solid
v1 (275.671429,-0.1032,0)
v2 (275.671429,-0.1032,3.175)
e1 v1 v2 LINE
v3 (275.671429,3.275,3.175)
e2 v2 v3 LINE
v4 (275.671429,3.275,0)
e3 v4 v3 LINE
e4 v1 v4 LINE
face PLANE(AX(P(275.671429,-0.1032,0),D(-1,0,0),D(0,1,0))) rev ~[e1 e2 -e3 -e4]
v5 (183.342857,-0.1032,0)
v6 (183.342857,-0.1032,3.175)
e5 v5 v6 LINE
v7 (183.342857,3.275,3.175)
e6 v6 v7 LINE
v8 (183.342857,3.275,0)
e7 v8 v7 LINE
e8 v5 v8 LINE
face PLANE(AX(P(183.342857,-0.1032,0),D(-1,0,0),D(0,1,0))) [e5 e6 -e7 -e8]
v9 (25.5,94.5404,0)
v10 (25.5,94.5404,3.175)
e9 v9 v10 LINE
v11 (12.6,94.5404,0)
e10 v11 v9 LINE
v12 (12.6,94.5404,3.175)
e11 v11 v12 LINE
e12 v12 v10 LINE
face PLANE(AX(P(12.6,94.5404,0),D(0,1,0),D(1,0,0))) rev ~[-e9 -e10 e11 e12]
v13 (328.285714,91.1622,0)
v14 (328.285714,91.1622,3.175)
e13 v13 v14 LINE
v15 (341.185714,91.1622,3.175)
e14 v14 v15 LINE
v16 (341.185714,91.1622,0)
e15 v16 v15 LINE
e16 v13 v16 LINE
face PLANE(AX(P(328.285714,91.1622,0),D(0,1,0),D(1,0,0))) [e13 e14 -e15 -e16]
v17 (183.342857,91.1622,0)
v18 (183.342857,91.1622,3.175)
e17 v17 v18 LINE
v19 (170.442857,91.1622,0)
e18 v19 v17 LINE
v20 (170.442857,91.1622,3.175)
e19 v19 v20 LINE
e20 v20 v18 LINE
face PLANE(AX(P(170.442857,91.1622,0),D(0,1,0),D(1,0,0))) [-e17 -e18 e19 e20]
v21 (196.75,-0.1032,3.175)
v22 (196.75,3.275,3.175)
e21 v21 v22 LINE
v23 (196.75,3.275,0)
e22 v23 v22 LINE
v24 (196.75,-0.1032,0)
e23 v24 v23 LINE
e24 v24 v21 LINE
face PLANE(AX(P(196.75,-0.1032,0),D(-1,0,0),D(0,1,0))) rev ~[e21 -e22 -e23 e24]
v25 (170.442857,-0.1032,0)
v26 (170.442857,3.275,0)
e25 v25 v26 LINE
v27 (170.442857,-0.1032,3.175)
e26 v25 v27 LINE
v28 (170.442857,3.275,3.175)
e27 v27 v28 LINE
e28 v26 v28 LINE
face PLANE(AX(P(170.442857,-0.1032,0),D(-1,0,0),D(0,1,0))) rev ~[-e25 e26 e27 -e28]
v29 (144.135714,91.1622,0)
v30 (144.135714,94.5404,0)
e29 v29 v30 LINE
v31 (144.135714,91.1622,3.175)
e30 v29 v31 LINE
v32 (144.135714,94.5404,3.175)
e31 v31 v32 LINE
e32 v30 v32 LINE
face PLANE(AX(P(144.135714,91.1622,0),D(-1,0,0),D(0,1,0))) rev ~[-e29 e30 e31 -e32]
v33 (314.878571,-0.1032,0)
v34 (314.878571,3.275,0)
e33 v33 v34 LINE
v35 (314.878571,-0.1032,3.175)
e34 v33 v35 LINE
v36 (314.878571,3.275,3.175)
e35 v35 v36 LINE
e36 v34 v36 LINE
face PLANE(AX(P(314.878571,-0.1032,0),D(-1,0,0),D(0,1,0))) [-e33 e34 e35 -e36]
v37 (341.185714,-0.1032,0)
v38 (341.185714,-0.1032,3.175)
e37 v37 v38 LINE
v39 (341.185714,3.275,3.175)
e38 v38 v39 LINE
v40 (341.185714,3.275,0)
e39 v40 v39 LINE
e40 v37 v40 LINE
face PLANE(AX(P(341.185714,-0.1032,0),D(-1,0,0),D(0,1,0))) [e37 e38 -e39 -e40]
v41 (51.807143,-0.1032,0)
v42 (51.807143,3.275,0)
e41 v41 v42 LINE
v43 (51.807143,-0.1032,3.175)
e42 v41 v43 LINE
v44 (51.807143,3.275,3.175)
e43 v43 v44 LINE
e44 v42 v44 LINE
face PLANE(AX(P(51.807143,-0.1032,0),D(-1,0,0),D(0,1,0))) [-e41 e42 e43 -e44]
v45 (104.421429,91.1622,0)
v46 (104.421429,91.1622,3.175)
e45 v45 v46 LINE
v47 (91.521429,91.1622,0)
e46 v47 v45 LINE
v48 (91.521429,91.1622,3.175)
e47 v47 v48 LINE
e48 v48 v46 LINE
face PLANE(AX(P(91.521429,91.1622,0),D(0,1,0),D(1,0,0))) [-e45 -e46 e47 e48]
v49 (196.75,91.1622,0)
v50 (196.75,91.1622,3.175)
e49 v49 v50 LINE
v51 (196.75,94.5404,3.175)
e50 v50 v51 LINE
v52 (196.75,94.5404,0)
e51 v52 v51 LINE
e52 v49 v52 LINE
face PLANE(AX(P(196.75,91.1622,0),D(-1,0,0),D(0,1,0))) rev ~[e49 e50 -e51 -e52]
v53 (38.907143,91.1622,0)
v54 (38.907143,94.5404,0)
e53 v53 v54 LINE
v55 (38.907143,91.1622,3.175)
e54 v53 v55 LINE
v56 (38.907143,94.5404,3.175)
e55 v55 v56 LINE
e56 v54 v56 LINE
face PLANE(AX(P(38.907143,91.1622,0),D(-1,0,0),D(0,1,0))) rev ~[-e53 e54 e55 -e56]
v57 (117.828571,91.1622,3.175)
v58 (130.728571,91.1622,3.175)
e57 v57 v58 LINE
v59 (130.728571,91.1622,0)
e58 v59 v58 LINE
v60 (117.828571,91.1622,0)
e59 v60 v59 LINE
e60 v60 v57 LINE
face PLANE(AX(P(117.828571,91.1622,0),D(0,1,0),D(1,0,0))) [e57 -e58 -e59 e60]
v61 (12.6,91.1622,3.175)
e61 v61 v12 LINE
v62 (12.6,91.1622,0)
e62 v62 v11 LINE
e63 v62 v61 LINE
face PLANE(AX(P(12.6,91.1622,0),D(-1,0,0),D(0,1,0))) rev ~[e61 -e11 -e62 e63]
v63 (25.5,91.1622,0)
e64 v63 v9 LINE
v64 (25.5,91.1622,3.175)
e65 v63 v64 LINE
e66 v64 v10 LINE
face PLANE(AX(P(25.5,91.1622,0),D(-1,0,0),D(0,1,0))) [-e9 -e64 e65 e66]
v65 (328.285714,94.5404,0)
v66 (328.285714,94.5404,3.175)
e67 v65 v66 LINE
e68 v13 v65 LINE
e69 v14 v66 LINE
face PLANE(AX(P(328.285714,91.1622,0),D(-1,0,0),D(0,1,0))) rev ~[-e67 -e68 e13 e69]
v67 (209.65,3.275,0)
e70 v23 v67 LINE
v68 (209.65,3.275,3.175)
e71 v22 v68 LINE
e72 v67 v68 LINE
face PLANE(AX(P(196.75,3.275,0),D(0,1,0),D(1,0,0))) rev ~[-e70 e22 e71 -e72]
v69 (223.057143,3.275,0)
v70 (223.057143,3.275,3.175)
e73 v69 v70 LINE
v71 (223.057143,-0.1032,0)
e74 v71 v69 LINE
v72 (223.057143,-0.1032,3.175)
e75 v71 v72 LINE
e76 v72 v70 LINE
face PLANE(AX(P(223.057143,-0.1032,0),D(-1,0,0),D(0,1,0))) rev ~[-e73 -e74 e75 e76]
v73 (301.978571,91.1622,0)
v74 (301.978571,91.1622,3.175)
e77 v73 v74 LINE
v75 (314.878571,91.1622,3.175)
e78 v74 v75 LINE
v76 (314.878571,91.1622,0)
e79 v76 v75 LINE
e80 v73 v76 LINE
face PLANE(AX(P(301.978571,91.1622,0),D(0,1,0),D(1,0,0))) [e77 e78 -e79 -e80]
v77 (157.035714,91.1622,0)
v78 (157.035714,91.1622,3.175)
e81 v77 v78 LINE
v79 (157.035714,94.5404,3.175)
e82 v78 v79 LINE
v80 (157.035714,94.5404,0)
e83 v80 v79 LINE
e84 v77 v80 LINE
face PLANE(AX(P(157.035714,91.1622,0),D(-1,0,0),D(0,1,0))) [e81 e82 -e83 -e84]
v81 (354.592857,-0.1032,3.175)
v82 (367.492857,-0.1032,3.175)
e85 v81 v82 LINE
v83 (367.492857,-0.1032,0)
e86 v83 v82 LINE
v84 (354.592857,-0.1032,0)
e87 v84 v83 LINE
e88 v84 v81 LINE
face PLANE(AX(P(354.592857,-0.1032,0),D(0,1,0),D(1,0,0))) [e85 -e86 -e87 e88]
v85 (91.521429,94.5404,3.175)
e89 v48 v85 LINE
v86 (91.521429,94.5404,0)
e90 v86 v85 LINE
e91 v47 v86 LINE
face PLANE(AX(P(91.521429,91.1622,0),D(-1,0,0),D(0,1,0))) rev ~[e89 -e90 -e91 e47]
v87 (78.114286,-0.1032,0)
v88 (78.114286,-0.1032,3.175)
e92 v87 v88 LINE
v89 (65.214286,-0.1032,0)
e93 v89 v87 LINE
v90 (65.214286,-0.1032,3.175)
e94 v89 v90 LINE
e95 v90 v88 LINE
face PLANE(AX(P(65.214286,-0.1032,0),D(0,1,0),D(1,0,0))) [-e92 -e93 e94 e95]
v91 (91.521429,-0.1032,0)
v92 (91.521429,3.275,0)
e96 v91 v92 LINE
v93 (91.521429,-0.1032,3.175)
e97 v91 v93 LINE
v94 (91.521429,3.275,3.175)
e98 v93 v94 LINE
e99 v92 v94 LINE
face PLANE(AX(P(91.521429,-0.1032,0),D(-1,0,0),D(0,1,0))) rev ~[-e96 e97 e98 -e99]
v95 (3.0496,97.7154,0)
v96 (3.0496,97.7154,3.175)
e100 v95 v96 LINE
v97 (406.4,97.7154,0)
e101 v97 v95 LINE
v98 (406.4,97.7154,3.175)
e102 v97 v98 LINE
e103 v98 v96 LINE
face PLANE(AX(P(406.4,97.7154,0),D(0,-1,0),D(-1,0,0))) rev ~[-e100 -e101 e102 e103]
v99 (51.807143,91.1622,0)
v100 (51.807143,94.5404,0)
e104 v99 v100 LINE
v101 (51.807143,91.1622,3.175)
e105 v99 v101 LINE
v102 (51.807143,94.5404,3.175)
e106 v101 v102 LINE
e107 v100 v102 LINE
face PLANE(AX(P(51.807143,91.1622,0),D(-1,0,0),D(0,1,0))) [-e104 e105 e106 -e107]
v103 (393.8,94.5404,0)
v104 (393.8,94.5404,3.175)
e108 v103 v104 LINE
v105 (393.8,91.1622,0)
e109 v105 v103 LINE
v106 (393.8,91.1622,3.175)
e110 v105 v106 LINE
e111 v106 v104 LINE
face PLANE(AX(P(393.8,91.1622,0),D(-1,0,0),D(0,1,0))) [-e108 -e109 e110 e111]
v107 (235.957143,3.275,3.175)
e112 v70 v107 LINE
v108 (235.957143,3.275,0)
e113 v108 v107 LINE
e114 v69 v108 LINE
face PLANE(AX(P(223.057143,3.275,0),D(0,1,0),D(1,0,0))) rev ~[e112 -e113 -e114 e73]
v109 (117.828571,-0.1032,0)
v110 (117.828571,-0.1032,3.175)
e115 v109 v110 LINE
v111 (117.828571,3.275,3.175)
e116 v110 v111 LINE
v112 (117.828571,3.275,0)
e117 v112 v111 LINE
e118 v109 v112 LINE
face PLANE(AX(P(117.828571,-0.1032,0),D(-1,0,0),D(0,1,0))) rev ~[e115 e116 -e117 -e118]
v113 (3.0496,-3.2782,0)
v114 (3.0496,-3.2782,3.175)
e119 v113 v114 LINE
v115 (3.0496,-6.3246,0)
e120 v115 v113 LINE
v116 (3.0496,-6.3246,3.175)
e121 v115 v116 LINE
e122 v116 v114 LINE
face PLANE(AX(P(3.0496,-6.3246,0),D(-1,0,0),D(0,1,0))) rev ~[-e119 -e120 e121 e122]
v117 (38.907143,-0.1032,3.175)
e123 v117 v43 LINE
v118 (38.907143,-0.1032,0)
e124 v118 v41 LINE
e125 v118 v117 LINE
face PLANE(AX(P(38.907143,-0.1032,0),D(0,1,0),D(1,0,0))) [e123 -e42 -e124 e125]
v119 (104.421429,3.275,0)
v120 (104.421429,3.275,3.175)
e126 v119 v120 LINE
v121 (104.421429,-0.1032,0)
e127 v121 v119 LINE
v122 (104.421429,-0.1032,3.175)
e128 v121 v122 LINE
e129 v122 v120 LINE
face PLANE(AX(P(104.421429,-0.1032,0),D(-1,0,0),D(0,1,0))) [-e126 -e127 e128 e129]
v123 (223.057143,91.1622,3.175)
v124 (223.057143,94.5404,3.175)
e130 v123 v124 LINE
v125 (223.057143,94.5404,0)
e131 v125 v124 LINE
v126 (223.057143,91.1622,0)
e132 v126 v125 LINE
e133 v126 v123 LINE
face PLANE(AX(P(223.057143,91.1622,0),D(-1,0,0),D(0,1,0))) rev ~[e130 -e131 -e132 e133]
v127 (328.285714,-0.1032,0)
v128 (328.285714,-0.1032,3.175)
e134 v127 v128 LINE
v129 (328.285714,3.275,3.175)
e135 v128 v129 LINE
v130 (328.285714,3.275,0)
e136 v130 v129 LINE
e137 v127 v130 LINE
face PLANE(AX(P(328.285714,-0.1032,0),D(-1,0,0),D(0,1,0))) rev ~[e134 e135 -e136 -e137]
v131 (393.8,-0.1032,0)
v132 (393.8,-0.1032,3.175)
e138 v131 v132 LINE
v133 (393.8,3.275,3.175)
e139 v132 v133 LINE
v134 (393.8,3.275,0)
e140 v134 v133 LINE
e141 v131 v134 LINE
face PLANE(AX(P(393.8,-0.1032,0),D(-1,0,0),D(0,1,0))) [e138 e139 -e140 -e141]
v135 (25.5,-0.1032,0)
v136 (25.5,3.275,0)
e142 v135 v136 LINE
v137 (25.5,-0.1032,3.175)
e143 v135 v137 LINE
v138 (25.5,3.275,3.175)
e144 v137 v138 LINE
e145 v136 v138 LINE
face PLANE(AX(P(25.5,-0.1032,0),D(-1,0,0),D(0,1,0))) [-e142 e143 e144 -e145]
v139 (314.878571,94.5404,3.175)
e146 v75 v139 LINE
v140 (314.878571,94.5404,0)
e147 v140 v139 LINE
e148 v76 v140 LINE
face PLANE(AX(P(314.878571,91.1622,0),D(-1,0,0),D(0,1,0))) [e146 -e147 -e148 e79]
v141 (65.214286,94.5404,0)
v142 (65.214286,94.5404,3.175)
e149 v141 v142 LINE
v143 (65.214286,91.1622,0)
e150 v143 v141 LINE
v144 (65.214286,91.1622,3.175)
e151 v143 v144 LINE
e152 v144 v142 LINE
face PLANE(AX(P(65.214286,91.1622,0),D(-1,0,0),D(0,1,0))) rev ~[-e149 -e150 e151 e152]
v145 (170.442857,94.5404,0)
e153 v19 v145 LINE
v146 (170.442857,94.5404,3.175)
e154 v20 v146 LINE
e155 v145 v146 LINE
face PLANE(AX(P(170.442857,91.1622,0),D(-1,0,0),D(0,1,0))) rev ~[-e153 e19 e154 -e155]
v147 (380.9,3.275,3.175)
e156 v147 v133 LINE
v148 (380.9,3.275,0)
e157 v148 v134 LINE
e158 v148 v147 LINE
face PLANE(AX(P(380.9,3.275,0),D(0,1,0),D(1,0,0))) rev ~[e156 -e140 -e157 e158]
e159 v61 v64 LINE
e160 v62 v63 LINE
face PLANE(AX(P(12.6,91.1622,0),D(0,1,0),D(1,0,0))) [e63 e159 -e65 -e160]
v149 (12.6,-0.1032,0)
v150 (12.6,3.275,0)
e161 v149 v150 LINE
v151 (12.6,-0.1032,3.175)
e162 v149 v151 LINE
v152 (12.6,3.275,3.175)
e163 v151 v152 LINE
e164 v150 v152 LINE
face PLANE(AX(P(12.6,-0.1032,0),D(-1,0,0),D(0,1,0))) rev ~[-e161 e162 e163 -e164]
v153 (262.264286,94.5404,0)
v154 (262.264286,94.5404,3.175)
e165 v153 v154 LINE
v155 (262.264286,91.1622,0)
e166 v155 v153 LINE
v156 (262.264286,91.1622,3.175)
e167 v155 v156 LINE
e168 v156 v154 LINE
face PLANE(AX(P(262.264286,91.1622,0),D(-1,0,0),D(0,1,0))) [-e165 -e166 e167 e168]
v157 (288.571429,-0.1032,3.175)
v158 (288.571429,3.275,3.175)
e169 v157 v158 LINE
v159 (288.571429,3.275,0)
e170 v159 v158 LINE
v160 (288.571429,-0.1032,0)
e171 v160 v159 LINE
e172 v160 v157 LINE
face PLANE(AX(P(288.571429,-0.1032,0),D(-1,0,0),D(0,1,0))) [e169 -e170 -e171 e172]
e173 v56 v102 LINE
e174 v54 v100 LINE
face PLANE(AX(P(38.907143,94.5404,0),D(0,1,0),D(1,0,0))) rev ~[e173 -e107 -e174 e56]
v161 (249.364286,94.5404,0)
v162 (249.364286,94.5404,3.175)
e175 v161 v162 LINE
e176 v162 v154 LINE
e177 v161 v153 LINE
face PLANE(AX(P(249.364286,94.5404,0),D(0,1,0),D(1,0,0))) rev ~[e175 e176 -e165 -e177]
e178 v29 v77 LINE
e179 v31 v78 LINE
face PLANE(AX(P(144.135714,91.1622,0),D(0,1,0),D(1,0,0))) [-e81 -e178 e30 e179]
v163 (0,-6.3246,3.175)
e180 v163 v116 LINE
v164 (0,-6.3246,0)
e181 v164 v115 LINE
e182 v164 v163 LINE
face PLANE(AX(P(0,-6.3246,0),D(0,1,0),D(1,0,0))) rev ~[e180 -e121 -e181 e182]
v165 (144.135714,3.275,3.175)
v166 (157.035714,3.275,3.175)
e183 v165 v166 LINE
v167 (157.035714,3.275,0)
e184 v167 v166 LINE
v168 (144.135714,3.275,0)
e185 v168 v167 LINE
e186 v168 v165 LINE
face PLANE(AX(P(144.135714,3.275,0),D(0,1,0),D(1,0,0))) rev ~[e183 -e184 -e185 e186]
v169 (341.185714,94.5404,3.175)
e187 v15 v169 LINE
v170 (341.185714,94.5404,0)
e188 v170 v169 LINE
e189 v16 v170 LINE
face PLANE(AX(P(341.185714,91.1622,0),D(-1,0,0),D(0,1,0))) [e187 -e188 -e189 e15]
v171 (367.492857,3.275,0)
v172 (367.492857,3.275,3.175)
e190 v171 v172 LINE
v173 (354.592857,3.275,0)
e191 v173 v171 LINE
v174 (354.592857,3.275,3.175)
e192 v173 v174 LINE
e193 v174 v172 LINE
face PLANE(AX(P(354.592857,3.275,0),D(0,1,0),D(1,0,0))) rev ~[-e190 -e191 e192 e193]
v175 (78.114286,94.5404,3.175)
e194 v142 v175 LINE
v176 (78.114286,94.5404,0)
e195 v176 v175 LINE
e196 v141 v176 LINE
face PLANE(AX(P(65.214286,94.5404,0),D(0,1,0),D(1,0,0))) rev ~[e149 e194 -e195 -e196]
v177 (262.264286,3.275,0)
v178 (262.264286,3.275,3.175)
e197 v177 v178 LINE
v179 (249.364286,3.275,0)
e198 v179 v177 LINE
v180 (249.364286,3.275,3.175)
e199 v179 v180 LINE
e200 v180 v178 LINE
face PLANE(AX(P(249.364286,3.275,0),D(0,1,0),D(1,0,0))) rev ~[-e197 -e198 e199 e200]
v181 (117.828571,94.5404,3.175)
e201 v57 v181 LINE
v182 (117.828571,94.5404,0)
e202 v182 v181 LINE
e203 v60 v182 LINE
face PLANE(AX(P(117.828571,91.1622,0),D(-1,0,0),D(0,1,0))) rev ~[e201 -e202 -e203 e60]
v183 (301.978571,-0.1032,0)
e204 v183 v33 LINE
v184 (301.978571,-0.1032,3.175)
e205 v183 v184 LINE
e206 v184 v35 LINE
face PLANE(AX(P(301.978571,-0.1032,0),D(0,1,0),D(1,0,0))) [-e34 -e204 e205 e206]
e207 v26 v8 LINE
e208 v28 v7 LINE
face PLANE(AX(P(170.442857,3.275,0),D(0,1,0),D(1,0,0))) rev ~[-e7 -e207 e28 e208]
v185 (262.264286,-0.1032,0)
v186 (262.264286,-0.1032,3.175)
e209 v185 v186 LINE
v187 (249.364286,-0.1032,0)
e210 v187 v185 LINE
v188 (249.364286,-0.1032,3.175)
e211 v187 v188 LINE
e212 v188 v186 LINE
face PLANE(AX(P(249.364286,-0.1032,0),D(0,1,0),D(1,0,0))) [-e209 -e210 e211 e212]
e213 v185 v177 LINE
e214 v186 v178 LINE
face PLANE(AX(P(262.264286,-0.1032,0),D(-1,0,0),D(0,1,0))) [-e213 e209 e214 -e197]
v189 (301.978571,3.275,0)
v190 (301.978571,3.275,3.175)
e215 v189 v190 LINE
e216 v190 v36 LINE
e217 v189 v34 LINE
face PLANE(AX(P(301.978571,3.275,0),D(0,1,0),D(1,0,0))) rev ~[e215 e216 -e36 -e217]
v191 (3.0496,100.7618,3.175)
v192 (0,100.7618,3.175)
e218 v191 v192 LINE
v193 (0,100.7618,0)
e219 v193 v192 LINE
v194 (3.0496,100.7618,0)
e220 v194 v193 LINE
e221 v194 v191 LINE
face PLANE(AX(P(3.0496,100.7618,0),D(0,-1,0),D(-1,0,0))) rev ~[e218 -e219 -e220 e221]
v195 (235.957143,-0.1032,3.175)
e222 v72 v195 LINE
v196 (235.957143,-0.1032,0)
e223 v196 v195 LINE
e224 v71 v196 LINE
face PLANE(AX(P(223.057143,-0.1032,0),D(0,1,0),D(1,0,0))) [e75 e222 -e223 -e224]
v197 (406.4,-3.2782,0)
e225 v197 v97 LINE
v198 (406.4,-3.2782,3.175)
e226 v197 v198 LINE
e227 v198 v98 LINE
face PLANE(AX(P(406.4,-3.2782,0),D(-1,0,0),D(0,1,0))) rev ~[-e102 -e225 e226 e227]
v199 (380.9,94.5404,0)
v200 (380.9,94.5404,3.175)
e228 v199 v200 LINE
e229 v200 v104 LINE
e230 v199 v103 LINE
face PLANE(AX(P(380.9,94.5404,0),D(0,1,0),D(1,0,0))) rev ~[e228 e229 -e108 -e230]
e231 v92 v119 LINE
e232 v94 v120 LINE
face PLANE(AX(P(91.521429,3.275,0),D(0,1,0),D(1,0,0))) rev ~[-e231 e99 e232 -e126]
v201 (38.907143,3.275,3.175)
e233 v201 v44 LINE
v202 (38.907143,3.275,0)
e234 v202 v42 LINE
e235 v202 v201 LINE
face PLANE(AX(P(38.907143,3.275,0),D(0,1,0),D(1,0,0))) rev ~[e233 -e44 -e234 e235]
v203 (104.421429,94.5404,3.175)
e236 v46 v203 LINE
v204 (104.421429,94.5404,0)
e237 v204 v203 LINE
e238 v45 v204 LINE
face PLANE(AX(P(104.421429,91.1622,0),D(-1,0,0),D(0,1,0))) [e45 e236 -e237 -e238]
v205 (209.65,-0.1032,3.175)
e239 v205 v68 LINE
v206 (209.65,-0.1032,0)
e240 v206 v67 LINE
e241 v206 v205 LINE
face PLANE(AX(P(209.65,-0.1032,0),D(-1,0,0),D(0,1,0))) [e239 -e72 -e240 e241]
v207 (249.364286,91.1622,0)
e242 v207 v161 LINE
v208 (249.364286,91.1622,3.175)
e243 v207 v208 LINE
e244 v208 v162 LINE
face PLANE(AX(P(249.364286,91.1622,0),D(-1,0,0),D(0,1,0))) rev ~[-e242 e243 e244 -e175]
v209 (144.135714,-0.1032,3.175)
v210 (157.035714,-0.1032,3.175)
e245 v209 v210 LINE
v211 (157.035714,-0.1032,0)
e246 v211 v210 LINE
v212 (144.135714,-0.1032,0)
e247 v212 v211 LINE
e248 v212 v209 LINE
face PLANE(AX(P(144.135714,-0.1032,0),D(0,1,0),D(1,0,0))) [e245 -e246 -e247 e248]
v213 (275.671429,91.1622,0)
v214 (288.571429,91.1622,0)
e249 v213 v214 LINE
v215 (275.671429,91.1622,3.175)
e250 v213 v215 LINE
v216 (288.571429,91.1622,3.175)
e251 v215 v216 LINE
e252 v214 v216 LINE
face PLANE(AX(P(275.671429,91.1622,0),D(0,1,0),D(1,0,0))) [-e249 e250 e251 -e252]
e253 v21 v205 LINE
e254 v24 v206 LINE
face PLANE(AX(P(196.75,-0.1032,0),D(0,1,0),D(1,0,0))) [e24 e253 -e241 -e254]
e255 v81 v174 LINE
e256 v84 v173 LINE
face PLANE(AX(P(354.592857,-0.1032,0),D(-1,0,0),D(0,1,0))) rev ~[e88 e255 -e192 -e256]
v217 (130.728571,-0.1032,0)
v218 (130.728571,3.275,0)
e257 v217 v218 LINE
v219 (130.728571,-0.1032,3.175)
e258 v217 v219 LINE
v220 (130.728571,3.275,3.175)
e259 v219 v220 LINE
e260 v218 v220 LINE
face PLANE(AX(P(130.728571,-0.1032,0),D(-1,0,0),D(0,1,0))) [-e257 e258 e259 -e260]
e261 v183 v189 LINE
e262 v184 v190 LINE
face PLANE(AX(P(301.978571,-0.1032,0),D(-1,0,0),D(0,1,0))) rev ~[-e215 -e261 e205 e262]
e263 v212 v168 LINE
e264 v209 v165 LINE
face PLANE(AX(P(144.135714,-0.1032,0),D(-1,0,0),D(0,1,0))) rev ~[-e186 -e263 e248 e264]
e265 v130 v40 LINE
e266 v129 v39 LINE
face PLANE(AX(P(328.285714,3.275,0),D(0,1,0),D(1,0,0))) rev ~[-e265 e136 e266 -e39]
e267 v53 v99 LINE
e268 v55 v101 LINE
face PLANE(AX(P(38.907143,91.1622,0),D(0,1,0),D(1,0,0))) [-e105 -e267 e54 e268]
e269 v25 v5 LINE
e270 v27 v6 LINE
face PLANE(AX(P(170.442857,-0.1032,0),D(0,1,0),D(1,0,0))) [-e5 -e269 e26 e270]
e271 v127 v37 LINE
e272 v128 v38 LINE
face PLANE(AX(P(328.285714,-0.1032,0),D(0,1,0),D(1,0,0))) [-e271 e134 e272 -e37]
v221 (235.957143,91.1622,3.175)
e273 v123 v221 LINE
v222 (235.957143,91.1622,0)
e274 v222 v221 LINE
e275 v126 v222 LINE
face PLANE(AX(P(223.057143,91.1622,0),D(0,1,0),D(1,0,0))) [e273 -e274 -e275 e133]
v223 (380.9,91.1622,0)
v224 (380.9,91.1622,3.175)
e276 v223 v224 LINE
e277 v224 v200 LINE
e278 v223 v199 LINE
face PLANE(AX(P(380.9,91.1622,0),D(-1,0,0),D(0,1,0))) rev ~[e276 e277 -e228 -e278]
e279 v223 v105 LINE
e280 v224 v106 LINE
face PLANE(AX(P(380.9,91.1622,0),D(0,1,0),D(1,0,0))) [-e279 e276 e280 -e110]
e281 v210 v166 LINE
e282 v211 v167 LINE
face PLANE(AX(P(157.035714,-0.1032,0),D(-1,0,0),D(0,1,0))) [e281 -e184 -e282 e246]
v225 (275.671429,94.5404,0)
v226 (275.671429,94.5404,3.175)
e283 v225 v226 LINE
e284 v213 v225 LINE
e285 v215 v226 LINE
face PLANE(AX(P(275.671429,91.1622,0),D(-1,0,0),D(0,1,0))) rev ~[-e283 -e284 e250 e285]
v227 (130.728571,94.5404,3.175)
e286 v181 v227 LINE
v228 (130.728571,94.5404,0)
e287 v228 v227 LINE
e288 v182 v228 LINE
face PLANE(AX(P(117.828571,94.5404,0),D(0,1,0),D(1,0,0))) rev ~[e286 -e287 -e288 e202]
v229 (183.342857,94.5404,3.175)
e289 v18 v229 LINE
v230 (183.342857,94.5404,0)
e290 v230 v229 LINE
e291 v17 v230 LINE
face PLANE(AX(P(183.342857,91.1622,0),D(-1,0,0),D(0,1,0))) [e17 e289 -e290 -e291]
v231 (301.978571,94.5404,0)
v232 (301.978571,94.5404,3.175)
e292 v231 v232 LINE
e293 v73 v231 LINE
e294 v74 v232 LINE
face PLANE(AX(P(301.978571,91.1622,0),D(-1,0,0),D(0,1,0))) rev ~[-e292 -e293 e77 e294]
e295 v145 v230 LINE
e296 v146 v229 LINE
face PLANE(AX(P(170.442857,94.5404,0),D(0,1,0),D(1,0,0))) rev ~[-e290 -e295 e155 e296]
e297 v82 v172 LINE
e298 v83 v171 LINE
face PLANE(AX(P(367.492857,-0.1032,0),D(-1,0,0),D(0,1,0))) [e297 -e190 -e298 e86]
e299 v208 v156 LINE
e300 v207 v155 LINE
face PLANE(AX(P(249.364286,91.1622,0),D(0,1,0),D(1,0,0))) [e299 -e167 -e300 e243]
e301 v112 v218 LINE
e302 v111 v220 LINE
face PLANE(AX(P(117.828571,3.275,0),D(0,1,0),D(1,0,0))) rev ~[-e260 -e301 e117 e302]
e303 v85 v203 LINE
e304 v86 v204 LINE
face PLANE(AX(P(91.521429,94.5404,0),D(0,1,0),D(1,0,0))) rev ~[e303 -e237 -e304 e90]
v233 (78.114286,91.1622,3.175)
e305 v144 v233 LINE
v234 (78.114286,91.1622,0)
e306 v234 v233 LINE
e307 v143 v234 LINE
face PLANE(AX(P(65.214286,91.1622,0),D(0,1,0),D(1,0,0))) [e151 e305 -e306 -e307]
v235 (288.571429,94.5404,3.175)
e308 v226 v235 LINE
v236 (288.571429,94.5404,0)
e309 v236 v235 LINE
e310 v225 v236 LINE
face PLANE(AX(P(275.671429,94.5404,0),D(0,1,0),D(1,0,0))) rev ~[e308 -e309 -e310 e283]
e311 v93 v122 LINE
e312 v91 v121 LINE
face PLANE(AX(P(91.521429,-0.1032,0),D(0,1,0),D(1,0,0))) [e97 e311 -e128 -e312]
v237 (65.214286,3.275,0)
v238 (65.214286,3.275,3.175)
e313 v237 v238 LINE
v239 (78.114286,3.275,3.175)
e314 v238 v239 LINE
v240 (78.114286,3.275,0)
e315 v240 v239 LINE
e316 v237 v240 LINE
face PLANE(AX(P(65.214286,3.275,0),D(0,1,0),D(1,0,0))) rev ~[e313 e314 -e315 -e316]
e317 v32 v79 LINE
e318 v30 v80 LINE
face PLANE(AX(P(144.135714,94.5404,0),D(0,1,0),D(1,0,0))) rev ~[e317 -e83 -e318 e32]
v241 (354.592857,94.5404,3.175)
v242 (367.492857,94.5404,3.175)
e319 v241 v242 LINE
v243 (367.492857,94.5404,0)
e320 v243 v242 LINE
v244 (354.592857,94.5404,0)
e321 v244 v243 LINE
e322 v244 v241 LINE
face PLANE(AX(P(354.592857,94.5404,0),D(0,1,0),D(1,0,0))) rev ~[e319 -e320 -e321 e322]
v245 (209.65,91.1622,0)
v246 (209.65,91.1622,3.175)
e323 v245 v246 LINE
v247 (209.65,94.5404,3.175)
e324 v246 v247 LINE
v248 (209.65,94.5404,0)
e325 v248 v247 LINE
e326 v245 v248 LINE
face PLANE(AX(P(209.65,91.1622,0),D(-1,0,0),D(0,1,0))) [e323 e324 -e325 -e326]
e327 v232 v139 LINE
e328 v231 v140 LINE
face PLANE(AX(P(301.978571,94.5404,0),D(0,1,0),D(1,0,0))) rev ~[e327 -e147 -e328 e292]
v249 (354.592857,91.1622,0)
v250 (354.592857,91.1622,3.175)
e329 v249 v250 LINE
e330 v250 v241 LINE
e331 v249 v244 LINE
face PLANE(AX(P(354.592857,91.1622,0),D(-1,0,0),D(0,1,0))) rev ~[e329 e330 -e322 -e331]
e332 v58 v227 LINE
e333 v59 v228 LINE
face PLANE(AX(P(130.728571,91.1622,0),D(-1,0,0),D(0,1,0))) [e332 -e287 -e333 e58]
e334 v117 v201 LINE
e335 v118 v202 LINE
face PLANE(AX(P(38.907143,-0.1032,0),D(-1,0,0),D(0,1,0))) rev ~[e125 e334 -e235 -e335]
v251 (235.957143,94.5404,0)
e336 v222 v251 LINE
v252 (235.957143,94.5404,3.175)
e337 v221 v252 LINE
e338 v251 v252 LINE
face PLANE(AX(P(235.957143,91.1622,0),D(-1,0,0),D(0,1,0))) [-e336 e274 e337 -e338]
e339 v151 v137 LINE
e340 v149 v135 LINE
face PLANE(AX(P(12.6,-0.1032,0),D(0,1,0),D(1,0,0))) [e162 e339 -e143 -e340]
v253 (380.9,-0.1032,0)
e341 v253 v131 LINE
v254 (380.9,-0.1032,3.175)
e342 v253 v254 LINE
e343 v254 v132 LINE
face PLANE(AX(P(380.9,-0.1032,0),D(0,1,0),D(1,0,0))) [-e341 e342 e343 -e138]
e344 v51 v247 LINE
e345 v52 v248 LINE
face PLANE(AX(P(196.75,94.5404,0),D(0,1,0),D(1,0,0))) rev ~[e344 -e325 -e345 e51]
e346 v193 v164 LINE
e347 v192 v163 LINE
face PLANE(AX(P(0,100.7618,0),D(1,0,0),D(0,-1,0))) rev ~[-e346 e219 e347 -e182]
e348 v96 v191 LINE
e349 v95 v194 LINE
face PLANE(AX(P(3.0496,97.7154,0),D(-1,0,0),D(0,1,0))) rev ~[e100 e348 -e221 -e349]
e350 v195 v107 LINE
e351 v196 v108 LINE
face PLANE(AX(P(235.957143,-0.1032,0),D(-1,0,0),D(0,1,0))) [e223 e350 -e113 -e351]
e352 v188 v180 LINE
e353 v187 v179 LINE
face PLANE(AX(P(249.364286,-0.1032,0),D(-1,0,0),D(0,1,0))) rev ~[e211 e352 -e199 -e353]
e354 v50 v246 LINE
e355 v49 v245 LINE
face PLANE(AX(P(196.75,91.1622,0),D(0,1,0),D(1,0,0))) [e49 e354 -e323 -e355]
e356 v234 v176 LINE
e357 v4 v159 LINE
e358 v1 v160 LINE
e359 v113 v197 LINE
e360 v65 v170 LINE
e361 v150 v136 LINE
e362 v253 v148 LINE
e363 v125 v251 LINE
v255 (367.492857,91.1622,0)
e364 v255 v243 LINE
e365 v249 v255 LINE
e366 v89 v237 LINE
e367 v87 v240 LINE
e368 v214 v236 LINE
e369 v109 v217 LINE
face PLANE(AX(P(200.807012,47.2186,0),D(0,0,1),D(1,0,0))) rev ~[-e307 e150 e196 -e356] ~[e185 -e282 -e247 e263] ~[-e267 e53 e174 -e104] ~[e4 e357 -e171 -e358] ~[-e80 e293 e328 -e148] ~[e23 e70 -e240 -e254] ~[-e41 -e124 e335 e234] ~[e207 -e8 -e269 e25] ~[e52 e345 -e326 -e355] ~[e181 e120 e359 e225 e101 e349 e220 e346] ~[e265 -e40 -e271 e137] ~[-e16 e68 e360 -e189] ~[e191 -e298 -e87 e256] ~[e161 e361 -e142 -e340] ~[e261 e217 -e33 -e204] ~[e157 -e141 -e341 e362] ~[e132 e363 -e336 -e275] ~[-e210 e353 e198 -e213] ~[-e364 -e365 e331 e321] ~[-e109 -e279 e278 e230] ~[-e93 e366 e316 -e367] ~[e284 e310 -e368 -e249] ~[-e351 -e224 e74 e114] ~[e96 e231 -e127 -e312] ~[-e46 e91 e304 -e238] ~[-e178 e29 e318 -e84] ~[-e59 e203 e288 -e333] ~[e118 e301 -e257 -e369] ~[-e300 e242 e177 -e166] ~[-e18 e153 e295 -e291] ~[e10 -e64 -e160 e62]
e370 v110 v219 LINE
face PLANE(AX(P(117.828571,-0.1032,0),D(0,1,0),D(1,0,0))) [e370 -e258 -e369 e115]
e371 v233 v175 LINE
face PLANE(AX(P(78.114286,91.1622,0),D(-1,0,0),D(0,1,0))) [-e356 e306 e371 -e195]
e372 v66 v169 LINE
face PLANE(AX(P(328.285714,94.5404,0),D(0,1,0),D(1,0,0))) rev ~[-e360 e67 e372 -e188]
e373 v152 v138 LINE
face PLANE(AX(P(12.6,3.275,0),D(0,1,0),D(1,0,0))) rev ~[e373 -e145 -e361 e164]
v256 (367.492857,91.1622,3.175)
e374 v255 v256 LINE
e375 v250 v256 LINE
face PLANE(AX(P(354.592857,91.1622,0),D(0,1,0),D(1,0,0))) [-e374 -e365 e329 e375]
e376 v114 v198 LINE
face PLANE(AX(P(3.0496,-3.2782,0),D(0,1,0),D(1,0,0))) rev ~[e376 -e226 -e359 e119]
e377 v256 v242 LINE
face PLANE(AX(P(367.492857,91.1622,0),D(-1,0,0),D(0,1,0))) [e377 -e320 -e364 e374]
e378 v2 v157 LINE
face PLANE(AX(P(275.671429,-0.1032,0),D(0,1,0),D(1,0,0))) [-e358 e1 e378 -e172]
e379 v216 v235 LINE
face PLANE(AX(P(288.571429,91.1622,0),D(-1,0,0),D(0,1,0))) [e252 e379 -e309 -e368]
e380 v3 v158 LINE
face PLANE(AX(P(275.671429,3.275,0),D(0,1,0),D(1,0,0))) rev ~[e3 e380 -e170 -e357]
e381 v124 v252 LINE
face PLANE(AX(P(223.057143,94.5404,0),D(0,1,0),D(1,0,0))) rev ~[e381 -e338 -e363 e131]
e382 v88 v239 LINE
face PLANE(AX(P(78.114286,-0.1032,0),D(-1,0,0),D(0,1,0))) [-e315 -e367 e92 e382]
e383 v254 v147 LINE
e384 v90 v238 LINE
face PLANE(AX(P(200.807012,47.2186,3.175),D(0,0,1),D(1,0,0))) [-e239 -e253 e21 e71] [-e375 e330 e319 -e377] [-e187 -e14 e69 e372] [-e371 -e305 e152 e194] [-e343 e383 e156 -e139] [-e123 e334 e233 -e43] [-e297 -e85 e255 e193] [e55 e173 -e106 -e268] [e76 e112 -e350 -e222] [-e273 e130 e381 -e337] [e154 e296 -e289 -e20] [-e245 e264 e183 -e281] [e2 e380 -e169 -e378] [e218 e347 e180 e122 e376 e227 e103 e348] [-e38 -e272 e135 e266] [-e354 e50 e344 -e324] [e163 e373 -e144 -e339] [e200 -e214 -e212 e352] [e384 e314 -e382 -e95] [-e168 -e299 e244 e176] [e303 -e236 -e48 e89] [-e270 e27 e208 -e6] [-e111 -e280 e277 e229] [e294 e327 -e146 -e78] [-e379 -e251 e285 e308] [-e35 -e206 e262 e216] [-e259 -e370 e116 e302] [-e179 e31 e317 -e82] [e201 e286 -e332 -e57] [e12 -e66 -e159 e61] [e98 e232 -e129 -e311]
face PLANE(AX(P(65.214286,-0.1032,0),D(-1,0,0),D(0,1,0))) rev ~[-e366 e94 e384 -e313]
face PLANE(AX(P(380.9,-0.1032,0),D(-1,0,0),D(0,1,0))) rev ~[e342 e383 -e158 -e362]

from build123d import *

# Parameters (mm, degrees)
SKETCH1_W           = 12.9
SKETCH1_H           = 3.3782
BOSS_EXTRUDE1_DEPTH = 3.175


with BuildPart() as part:
    # Sketch1 → Boss-Extrude1 (new body)
    with BuildSketch(Plane.XY):
        Polygon((3.0496002, 100.7618), (0, 100.7618), (0, -6.3246), (3.0496002, -6.3246), (3.0496002, -3.2782), (406.4, -3.2782), (406.4, 97.7154), (3.0496002, 97.7154), align=None)
        with Locations((19.05, 92.8513)):
            Rectangle(SKETCH1_W, SKETCH1_H, mode=Mode.SUBTRACT)
        with Locations((45.357142857, 92.8513)):
            Rectangle(SKETCH1_W, SKETCH1_H, mode=Mode.SUBTRACT)
        with Locations((387.35, 92.8513)):
            Rectangle(SKETCH1_W, SKETCH1_H, mode=Mode.SUBTRACT)
        with Locations((361.042857143, 92.8513)):
            Rectangle(SKETCH1_W, SKETCH1_H, mode=Mode.SUBTRACT)
        with Locations((71.664285714, 92.8513)):
            Rectangle(SKETCH1_W, SKETCH1_H, mode=Mode.SUBTRACT)
        with Locations((97.971428571, 92.8513)):
            Rectangle(SKETCH1_W, SKETCH1_H, mode=Mode.SUBTRACT)
        with Locations((124.278571429, 92.8513)):
            Rectangle(SKETCH1_W, SKETCH1_H, mode=Mode.SUBTRACT)
        with Locations((150.585714286, 92.8513)):
            Rectangle(SKETCH1_W, SKETCH1_H, mode=Mode.SUBTRACT)
        with Locations((176.892857143, 92.8513)):
            Rectangle(SKETCH1_W, SKETCH1_H, mode=Mode.SUBTRACT)
        with Locations((203.2, 92.8513)):
            Rectangle(SKETCH1_W, SKETCH1_H, mode=Mode.SUBTRACT)
        with Locations((229.507142857, 92.8513)):
            Rectangle(SKETCH1_W, SKETCH1_H, mode=Mode.SUBTRACT)
        with Locations((255.814285714, 92.8513)):
            Rectangle(SKETCH1_W, SKETCH1_H, mode=Mode.SUBTRACT)
        with Locations((282.121428571, 92.8513)):
            Rectangle(SKETCH1_W, SKETCH1_H, mode=Mode.SUBTRACT)
        with Locations((308.428571429, 92.8513)):
            Rectangle(SKETCH1_W, SKETCH1_H, mode=Mode.SUBTRACT)
        with Locations((334.735714286, 92.8513)):
            Rectangle(SKETCH1_W, SKETCH1_H, mode=Mode.SUBTRACT)
        with Locations((387.35, 1.5859)):
            Rectangle(SKETCH1_W, SKETCH1_H, mode=Mode.SUBTRACT)
        with Locations((361.042857143, 1.5859)):
            Rectangle(SKETCH1_W, SKETCH1_H, mode=Mode.SUBTRACT)
        with Locations((334.735714286, 1.5859)):
            Rectangle(SKETCH1_W, SKETCH1_H, mode=Mode.SUBTRACT)
        with Locations((308.428571429, 1.5859)):
            Rectangle(SKETCH1_W, SKETCH1_H, mode=Mode.SUBTRACT)
        with Locations((282.121428571, 1.5859)):
            Rectangle(SKETCH1_W, SKETCH1_H, mode=Mode.SUBTRACT)
        with Locations((255.814285714, 1.5859)):
            Rectangle(SKETCH1_W, SKETCH1_H, mode=Mode.SUBTRACT)
        with Locations((229.507142857, 1.5859)):
            Rectangle(SKETCH1_W, SKETCH1_H, mode=Mode.SUBTRACT)
        with Locations((203.2, 1.5859)):
            Rectangle(SKETCH1_W, SKETCH1_H, mode=Mode.SUBTRACT)
        with Locations((176.892857143, 1.5859)):
            Rectangle(SKETCH1_W, SKETCH1_H, mode=Mode.SUBTRACT)
        with Locations((150.585714286, 1.5859)):
            Rectangle(SKETCH1_W, SKETCH1_H, mode=Mode.SUBTRACT)
        with Locations((124.278571429, 1.5859)):
            Rectangle(SKETCH1_W, SKETCH1_H, mode=Mode.SUBTRACT)
        with Locations((97.971428571, 1.5859)):
            Rectangle(SKETCH1_W, SKETCH1_H, mode=Mode.SUBTRACT)
        with Locations((71.664285714, 1.5859)):
            Rectangle(SKETCH1_W, SKETCH1_H, mode=Mode.SUBTRACT)
        with Locations((45.357142857, 1.5859)):
            Rectangle(SKETCH1_W, SKETCH1_H, mode=Mode.SUBTRACT)
        with Locations((19.05, 1.5859)):
            Rectangle(SKETCH1_W, SKETCH1_H, mode=Mode.SUBTRACT)
    extrude(amount=BOSS_EXTRUDE1_DEPTH)


solid = part.part
